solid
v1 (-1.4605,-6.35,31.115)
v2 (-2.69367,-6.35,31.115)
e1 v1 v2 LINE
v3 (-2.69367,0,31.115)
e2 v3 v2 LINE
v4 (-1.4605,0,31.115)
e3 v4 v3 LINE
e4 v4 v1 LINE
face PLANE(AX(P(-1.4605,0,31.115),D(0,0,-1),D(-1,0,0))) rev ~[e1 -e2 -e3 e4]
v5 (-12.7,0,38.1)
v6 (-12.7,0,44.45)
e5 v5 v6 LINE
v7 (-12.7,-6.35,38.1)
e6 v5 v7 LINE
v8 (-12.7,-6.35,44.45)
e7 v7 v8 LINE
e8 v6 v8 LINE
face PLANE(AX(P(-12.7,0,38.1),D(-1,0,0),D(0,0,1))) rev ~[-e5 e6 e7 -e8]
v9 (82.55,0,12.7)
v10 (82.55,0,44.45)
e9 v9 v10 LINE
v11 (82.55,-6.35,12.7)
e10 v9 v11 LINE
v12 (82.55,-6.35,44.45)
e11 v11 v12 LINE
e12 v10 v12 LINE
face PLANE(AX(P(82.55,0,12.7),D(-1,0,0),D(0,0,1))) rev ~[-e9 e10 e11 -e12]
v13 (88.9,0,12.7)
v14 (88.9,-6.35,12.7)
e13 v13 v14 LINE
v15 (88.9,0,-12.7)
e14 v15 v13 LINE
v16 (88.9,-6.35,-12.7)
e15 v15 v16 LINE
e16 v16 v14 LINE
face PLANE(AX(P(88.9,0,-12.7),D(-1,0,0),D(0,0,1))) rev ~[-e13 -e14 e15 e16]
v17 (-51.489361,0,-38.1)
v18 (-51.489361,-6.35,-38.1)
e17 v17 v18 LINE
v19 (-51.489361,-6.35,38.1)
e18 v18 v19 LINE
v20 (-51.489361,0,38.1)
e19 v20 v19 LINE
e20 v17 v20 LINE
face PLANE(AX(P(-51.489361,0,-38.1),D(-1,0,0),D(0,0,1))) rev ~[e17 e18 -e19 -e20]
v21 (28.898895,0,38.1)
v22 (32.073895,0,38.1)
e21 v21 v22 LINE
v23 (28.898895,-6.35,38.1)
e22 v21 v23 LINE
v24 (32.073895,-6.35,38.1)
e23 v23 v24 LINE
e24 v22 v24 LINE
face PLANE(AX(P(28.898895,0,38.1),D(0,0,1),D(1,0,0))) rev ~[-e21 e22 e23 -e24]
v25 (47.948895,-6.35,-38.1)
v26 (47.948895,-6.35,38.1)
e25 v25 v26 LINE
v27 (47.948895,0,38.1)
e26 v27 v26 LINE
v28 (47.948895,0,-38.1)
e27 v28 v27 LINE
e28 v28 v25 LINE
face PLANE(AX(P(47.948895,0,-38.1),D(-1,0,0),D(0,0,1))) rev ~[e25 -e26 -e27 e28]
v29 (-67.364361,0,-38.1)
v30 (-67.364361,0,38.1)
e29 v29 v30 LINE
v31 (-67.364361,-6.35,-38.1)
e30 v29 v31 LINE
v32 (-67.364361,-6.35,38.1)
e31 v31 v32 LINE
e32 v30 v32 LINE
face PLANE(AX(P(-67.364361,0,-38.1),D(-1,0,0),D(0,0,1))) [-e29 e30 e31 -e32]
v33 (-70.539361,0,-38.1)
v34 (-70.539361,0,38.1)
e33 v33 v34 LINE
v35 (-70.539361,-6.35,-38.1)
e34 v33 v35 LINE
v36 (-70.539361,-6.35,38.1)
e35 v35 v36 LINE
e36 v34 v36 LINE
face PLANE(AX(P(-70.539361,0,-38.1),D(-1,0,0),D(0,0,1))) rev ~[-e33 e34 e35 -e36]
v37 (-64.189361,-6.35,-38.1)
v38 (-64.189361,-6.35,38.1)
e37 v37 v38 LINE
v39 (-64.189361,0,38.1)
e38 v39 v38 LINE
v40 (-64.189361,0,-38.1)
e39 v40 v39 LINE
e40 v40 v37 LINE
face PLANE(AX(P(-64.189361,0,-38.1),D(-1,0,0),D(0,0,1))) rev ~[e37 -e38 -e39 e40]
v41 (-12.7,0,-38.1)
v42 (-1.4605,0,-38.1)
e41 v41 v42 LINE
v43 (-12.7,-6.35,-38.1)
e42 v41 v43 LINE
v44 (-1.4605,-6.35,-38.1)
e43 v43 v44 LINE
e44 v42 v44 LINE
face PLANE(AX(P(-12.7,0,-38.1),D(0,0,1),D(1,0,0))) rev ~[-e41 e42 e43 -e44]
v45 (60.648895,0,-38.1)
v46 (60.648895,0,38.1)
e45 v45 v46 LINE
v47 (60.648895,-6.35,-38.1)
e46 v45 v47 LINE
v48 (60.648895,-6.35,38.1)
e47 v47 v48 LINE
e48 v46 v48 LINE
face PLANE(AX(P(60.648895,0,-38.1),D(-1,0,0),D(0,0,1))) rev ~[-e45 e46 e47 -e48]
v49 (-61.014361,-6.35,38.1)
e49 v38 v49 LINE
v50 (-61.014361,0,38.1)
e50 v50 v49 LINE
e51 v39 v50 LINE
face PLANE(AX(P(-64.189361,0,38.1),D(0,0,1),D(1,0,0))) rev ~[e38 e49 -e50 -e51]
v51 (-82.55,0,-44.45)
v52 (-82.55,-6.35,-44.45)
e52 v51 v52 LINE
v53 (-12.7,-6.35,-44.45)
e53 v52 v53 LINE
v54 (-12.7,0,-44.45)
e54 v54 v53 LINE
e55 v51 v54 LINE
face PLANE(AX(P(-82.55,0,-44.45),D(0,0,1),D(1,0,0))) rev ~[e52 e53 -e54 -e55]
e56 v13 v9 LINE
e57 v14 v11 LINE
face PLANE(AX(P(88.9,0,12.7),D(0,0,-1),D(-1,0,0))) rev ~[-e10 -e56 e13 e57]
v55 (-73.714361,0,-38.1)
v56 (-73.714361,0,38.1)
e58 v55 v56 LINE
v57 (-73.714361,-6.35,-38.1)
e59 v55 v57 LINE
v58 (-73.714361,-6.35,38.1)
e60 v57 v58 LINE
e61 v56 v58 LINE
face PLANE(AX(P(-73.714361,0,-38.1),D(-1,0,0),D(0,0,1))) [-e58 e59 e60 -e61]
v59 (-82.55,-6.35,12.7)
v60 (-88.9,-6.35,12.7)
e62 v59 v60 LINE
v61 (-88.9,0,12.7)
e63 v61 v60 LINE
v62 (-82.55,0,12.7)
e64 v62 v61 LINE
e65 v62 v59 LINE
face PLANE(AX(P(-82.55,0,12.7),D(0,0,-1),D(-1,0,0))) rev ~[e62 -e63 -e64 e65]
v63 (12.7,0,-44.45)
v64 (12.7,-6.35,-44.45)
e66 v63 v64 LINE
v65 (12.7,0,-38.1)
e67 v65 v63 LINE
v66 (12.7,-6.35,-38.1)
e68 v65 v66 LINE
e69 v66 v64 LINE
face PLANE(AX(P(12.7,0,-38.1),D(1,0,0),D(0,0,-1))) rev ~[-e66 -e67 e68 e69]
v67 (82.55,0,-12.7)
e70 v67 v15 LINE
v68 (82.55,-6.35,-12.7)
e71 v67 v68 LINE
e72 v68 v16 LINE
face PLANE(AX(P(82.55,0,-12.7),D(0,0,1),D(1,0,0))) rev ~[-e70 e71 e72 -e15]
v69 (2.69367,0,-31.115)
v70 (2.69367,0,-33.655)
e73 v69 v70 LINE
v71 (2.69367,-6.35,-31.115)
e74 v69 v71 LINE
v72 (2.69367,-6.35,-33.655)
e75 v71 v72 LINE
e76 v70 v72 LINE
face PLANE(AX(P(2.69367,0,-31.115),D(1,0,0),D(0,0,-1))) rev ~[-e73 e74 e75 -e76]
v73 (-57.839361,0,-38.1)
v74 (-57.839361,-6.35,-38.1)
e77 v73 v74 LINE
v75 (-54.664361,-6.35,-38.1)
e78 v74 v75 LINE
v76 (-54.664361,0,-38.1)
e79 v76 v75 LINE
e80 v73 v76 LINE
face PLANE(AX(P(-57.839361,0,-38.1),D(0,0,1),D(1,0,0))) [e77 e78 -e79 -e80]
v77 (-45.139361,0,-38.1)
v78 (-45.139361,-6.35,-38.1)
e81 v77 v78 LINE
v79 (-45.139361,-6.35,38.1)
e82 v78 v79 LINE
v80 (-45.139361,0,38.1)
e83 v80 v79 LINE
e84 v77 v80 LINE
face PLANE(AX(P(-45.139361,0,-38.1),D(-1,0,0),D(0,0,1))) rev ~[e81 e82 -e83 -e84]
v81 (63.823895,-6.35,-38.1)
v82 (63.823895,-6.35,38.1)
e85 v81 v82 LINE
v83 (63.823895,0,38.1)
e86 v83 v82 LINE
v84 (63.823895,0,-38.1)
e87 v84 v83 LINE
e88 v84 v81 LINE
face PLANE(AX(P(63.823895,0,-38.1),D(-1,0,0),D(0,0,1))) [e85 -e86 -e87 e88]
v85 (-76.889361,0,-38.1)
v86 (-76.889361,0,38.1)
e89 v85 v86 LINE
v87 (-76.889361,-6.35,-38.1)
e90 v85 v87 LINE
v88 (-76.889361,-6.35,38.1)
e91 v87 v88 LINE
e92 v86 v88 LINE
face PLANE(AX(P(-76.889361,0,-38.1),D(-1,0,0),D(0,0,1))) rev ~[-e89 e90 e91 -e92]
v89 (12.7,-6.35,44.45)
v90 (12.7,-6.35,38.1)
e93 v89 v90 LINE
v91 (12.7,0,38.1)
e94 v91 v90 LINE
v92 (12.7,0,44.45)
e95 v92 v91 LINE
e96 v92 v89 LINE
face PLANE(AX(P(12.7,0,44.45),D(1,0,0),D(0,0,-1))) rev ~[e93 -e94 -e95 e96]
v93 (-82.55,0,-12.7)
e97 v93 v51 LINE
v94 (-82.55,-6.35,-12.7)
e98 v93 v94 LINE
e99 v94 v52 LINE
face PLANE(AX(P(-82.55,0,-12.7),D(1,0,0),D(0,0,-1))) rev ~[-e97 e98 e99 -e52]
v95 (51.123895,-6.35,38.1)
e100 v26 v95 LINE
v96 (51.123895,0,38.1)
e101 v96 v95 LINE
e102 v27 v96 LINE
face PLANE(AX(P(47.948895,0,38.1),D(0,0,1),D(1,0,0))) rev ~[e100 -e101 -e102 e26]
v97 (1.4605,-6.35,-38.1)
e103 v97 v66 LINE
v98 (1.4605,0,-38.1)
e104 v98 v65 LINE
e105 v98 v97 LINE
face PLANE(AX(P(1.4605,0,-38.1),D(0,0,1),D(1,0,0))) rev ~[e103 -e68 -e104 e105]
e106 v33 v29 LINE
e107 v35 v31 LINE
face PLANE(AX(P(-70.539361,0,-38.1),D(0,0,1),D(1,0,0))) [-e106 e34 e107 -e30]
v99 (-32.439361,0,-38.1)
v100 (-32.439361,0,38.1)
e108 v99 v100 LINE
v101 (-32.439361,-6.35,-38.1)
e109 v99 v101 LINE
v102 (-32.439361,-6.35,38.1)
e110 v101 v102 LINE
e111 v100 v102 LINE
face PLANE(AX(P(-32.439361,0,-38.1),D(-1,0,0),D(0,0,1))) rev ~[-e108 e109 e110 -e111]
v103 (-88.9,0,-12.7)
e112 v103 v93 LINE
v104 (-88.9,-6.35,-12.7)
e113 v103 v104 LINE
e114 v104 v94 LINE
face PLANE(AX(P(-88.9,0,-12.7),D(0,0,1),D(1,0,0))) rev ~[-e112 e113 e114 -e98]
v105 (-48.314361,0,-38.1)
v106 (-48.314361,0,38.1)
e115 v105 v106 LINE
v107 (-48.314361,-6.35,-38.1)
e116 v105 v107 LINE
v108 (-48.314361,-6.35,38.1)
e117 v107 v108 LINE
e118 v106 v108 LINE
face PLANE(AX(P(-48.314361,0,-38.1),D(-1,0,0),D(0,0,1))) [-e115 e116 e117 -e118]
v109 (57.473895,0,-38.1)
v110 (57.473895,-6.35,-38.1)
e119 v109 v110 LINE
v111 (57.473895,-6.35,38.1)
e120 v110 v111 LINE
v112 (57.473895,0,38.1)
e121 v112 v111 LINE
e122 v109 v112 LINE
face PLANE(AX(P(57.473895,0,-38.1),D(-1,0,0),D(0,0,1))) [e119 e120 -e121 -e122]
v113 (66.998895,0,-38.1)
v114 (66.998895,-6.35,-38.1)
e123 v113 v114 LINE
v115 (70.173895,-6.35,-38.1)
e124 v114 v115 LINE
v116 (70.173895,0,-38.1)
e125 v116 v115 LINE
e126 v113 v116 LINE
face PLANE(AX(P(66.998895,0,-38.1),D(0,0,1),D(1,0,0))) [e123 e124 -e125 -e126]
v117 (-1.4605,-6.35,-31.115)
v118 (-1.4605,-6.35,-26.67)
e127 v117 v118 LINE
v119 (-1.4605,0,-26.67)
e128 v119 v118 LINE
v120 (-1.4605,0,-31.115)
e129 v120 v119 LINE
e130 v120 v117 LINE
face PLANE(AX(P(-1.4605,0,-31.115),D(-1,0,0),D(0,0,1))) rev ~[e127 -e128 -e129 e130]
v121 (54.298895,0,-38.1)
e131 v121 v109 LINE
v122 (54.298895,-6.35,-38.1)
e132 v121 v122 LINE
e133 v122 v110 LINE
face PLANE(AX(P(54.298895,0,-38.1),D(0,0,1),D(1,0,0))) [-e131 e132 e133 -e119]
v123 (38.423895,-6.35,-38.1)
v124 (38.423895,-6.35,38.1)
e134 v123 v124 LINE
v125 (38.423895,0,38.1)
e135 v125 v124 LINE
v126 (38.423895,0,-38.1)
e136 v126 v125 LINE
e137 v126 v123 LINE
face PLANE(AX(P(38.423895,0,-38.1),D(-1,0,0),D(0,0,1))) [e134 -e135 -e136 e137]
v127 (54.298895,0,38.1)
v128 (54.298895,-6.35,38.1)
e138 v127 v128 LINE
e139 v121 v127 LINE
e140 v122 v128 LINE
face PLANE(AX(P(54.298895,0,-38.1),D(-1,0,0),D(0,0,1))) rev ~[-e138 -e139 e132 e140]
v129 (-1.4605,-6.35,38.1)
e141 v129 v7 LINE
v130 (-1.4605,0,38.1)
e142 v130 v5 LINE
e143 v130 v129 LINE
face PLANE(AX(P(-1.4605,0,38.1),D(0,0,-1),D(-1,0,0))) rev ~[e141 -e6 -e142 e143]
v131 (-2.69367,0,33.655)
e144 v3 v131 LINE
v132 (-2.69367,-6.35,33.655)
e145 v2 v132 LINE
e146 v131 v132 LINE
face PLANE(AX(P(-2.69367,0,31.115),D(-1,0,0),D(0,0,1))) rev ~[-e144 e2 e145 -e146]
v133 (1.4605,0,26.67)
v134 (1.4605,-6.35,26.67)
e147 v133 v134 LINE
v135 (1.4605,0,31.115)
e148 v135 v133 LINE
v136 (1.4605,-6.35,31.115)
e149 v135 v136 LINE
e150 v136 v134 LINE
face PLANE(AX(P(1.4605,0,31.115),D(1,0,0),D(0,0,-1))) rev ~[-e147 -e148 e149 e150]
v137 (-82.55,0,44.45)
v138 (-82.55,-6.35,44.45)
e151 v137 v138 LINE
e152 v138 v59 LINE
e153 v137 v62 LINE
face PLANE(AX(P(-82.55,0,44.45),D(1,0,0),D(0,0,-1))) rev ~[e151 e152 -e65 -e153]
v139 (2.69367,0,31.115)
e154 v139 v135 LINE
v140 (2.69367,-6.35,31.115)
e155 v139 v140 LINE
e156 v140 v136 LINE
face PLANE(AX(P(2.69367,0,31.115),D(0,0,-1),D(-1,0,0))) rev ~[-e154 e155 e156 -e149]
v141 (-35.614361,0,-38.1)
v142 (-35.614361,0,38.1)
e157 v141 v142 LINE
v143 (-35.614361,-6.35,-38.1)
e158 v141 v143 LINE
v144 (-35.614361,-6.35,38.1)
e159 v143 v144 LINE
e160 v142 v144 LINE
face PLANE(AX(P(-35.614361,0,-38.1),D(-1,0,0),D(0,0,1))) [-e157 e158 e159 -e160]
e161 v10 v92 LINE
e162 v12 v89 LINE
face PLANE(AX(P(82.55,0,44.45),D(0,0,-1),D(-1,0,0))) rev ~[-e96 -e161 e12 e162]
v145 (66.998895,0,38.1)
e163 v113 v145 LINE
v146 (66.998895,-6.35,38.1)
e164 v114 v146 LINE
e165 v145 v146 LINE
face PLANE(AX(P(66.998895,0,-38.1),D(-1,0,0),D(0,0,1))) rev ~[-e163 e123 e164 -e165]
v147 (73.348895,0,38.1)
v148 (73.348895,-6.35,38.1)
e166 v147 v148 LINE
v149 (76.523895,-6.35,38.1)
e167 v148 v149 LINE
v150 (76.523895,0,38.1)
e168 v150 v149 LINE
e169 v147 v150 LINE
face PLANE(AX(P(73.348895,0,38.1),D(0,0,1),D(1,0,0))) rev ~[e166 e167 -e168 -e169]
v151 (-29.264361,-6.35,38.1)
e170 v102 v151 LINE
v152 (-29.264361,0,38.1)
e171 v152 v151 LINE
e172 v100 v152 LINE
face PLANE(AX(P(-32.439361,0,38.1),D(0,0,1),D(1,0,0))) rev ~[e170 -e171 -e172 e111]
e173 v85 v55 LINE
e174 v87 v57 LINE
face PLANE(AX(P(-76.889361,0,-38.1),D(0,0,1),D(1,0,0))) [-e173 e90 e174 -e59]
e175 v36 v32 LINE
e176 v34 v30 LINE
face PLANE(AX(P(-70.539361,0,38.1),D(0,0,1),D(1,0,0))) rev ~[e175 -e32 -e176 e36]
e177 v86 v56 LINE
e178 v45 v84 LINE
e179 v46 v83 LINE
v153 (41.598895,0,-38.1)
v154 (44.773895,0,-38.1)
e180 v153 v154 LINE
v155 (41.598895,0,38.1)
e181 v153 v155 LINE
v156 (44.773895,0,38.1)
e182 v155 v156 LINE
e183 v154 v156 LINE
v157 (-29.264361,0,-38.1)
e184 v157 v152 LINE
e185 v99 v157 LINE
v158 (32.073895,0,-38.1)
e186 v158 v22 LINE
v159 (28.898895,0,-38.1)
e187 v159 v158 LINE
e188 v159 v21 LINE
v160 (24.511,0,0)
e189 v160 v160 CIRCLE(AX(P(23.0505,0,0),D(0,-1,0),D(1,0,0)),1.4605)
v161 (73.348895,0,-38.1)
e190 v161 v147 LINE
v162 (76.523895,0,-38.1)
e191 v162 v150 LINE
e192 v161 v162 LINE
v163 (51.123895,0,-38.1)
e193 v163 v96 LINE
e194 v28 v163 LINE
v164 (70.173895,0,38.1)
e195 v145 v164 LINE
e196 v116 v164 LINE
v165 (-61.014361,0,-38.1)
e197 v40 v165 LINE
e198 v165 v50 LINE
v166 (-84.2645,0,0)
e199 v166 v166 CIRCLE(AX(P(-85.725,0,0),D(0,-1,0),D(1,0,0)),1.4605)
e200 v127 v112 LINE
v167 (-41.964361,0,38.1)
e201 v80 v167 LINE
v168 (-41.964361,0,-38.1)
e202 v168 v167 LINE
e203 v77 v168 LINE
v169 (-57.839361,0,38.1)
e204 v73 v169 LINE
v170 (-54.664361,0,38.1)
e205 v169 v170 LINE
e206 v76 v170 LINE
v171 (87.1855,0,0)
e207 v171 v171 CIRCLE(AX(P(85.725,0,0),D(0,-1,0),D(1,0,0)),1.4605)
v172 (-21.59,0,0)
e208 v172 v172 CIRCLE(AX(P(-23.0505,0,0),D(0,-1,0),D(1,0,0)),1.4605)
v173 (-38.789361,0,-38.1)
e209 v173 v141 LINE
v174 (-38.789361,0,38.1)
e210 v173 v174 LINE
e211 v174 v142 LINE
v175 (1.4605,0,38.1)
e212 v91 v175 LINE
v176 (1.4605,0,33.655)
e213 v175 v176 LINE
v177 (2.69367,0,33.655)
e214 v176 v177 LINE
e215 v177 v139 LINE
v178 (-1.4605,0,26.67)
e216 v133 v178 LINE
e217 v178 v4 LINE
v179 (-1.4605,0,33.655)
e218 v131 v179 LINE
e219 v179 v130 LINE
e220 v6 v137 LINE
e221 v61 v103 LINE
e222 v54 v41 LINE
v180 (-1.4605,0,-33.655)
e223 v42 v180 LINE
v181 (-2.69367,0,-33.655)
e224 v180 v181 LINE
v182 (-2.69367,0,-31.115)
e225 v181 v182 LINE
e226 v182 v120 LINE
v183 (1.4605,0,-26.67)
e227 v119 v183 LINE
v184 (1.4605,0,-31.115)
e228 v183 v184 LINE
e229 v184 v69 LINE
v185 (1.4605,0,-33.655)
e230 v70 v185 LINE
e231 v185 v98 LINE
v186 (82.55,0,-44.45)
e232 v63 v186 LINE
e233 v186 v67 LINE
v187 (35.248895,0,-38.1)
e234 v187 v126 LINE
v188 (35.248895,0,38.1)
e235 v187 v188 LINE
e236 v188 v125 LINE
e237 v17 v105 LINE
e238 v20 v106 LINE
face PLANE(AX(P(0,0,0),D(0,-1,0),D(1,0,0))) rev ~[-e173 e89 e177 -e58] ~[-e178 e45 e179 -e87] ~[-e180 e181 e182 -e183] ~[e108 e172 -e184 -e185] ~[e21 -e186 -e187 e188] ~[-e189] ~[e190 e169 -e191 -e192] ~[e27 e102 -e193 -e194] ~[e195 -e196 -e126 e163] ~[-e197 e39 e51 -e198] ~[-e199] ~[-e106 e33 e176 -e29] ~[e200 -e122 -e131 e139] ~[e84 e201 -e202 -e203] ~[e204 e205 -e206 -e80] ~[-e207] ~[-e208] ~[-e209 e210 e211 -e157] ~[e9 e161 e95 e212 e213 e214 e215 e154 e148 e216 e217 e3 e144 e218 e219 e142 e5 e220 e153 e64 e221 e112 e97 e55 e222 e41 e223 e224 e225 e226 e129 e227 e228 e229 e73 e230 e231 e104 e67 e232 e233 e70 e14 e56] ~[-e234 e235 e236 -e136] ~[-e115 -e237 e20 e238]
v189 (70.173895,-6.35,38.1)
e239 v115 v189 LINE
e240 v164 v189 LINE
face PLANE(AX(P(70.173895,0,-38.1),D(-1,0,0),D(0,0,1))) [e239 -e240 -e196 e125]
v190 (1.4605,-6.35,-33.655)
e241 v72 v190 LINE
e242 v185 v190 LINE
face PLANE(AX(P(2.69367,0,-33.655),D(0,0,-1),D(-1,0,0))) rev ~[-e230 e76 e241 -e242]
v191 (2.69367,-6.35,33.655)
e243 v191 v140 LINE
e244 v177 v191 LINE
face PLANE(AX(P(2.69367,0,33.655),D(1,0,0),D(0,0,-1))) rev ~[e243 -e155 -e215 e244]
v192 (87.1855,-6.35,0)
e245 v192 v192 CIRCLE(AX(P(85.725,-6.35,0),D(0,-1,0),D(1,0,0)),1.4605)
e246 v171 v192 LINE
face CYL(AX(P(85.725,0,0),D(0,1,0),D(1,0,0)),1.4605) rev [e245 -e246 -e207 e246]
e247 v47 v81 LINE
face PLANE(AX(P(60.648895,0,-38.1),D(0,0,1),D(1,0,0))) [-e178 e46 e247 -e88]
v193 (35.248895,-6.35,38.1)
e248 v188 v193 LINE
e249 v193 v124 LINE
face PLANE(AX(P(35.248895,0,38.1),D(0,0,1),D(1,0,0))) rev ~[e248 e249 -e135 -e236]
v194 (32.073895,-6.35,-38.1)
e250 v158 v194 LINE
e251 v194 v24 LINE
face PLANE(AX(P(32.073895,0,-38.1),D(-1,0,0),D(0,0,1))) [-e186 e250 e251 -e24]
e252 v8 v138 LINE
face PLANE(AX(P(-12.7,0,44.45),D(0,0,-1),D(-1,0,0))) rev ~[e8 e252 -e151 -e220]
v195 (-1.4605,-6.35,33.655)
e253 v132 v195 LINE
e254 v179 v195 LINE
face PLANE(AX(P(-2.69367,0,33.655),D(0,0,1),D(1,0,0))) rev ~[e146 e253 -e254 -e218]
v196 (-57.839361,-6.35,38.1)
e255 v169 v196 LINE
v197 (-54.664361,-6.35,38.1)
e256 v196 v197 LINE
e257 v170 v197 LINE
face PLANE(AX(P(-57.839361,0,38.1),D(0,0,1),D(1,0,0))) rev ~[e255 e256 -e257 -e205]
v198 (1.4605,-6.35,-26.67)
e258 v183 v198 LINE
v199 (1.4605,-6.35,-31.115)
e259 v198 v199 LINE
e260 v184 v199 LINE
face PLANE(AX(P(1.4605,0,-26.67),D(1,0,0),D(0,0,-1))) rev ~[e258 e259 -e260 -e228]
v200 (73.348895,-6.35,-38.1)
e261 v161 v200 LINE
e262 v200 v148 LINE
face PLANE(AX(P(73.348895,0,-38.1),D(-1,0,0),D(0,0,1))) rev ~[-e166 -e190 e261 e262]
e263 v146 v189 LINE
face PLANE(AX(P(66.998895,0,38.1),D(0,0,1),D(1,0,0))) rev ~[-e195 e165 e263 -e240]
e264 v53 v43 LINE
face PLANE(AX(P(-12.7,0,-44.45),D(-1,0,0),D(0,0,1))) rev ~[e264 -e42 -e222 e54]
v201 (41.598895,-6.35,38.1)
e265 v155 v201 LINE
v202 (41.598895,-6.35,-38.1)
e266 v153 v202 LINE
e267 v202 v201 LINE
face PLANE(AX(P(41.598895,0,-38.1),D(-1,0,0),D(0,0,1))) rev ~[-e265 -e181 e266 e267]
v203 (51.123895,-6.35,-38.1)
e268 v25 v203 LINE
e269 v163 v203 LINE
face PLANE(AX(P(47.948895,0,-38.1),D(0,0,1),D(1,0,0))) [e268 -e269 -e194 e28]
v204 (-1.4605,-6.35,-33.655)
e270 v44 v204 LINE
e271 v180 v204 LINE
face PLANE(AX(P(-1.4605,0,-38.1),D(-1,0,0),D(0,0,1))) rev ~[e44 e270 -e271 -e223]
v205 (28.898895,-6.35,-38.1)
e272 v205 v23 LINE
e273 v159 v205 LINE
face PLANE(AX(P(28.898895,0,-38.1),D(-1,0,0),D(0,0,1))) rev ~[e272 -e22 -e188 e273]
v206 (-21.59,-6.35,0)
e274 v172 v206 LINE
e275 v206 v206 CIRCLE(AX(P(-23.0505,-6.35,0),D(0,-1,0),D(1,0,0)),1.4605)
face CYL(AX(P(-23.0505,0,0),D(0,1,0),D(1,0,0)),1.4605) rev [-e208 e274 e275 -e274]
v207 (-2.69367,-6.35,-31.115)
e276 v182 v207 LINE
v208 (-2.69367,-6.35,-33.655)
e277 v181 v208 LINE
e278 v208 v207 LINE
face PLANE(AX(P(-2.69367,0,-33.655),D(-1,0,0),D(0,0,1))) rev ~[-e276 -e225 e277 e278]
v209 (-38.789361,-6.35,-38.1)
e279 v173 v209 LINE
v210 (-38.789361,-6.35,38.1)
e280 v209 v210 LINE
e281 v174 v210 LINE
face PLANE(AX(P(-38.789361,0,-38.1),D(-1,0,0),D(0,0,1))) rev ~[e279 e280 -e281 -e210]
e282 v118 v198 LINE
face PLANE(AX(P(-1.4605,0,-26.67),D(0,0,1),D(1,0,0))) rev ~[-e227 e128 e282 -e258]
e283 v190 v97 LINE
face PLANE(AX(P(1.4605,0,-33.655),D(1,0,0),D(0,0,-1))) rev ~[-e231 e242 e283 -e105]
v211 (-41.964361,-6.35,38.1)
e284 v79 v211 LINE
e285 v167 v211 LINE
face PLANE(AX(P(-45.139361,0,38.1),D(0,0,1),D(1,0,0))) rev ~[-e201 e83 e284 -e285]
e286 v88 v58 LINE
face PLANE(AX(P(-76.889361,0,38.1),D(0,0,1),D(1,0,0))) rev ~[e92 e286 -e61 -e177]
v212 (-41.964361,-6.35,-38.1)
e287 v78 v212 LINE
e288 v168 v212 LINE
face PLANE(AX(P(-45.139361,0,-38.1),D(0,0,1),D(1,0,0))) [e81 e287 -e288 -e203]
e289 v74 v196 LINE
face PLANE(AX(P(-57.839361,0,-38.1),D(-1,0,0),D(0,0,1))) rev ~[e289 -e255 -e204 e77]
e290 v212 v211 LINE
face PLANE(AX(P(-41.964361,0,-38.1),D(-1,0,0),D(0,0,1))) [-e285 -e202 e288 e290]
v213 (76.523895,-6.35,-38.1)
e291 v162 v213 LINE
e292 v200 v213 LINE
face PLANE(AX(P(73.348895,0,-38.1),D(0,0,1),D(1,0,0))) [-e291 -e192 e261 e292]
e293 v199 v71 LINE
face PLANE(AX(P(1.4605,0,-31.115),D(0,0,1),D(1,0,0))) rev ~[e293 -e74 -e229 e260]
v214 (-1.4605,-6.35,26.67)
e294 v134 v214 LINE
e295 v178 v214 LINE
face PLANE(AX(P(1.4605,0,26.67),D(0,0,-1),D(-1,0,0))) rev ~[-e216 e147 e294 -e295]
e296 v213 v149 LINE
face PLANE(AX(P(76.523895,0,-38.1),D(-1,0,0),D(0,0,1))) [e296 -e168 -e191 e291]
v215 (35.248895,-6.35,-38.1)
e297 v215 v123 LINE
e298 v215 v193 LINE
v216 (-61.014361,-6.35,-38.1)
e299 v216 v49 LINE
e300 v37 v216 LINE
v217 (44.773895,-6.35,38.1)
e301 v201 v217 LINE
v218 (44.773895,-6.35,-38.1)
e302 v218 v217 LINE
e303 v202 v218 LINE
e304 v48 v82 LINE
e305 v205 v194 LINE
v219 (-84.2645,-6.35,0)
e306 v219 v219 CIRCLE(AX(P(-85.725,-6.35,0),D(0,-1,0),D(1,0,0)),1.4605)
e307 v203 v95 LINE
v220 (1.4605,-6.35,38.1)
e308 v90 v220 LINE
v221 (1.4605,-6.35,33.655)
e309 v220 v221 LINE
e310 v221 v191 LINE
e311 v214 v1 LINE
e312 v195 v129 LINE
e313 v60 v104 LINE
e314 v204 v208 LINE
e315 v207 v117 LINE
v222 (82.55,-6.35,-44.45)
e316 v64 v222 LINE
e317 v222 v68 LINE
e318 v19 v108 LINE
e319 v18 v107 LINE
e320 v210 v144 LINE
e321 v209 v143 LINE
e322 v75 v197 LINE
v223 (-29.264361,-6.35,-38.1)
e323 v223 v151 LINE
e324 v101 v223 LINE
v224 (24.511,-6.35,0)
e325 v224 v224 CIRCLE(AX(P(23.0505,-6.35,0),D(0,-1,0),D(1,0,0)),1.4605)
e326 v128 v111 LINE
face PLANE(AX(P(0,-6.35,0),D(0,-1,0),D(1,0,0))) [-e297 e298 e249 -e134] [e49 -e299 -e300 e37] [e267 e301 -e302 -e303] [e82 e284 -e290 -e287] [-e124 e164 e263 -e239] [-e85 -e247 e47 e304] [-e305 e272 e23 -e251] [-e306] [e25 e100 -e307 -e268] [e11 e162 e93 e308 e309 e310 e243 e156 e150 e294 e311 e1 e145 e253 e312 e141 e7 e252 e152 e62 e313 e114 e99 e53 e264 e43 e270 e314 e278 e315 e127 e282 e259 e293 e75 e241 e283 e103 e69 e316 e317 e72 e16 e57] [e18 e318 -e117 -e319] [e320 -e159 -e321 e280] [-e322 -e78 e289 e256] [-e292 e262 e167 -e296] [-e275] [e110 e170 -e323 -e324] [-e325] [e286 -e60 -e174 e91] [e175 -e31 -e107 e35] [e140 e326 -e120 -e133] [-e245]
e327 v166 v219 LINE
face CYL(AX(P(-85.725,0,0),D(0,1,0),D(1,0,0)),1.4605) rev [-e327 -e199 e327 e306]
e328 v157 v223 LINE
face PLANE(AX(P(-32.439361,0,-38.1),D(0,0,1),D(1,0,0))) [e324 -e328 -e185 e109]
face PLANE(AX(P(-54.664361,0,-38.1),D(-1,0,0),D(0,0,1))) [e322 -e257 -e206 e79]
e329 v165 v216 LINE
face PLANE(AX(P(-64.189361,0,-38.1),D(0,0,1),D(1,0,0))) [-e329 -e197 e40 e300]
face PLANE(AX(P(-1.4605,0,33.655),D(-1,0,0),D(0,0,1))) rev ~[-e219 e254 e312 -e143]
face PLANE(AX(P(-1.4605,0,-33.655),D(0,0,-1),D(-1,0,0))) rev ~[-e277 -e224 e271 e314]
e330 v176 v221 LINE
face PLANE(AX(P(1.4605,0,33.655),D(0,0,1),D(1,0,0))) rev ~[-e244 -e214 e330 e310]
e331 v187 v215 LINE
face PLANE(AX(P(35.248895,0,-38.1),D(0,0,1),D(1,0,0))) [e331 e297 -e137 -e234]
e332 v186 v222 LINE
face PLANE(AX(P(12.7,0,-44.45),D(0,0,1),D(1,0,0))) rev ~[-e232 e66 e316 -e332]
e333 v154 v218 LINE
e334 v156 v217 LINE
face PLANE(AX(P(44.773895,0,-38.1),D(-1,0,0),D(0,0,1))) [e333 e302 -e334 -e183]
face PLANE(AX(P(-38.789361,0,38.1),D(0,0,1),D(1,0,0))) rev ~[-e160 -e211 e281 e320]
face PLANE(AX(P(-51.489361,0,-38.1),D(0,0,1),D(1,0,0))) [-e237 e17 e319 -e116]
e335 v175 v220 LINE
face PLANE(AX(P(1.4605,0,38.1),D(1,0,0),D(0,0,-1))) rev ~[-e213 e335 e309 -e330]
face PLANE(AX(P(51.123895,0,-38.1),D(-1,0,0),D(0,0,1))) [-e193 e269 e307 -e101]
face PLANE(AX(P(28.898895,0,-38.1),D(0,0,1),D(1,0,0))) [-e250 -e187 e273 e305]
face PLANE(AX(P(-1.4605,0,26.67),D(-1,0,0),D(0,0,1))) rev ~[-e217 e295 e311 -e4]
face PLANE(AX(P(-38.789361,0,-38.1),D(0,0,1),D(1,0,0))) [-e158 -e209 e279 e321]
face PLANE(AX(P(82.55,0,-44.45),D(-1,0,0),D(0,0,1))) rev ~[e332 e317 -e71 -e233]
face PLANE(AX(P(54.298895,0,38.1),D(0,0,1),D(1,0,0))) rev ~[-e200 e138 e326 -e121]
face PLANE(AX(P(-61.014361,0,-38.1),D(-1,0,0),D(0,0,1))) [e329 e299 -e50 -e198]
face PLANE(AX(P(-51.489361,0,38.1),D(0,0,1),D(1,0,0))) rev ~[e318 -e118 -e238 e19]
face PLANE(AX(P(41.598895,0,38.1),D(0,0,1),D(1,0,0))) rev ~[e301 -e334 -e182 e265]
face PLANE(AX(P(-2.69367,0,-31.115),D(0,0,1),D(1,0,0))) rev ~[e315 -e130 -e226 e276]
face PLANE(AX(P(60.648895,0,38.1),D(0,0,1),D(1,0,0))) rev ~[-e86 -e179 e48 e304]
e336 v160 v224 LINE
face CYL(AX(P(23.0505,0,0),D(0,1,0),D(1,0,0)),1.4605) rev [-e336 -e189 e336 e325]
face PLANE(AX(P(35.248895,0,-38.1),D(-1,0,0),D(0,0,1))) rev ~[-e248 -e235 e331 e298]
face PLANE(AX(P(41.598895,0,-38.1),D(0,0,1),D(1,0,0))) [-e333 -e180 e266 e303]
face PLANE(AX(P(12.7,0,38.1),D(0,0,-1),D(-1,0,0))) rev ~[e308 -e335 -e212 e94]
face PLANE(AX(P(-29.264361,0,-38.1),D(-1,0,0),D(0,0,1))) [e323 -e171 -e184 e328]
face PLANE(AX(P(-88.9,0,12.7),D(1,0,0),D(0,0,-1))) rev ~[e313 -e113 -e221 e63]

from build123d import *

# Parameters (mm, degrees)
F0_W     = 3.175
F0_H     = 76.2
F0_R     = 1.4605
F1_DEPTH = 6.35


with BuildPart() as f1:
    # F0 (on Front) → F1 (new body)
    with BuildSketch(Plane.XZ):
        Polygon((82.55, 12.7), (82.55, 44.45), (12.7, 44.45), (12.7, 38.1), (1.4605, 38.1), (1.4605, 33.655), (2.69367, 33.655), (2.69367, 31.115), (1.4605, 31.115), (1.4605, 26.67), (-1.4605, 26.67), (-1.4605, 31.115), (-2.69367, 31.115), (-2.69367, 33.655), (-1.4605, 33.655), (-1.4605, 38.1), (-12.7, 38.1), (-12.7, 44.45), (-82.55, 44.45), (-82.55, 12.7), (-88.9, 12.7), (-88.9, -12.7), (-82.55, -12.7), (-82.55, -44.45), (-12.7, -44.45), (-12.7, -38.1), (-1.4605, -38.1), (-1.4605, -33.655), (-2.69367, -33.655), (-2.69367, -31.115), (-1.4605, -31.115), (-1.4605, -26.67), (1.4605, -26.67), (1.4605, -31.115), (2.69367, -31.115), (2.69367, -33.655), (1.4605, -33.655), (1.4605, -38.1), (12.7, -38.1), (12.7, -44.45), (82.55, -44.45), (82.55, -12.7), (88.9, -12.7), (88.9, 12.7), align=None)
        with Locations((-75.301861, 0)):
            Rectangle(F0_W, F0_H, mode=Mode.SUBTRACT)
        with Locations((-68.951861, 0)):
            Rectangle(F0_W, F0_H, mode=Mode.SUBTRACT)
        with Locations((-62.601861, 0)):
            Rectangle(F0_W, F0_H, mode=Mode.SUBTRACT)
        with Locations((-56.251861, 0)):
            Rectangle(F0_W, F0_H, mode=Mode.SUBTRACT)
        with Locations((-49.901861, 0)):
            Rectangle(F0_W, F0_H, mode=Mode.SUBTRACT)
        with Locations((-43.551861, 0)):
            Rectangle(F0_W, F0_H, mode=Mode.SUBTRACT)
        with Locations((-37.201861, 0)):
            Rectangle(F0_W, F0_H, mode=Mode.SUBTRACT)
        with Locations((-30.851861, 0)):
            Rectangle(F0_W, F0_H, mode=Mode.SUBTRACT)
        with Locations((-85.725, 0)):
            Circle(F0_R, mode=Mode.SUBTRACT)
        with Locations((-23.0505, 0)):
            Circle(F0_R, mode=Mode.SUBTRACT)
        with Locations((23.0505, 0)):
            Circle(F0_R, mode=Mode.SUBTRACT)
        with Locations((30.486395, 0)):
            Rectangle(F0_W, F0_H, mode=Mode.SUBTRACT)
        with Locations((36.836395, 0)):
            Rectangle(F0_W, F0_H, mode=Mode.SUBTRACT)
        with Locations((43.186395, 0)):
            Rectangle(F0_W, F0_H, mode=Mode.SUBTRACT)
        with Locations((49.536395, 0)):
            Rectangle(F0_W, F0_H, mode=Mode.SUBTRACT)
        with Locations((55.886395, 0)):
            Rectangle(F0_W, F0_H, mode=Mode.SUBTRACT)
        with Locations((62.236395, 0)):
            Rectangle(F0_W, F0_H, mode=Mode.SUBTRACT)
        with Locations((68.586395, 0)):
            Rectangle(F0_W, F0_H, mode=Mode.SUBTRACT)
        with Locations((74.936395, 0)):
            Rectangle(F0_W, F0_H, mode=Mode.SUBTRACT)
        with Locations((85.725, 0)):
            Circle(F0_R, mode=Mode.SUBTRACT)
    extrude(amount=F1_DEPTH)


solid = f1.part
